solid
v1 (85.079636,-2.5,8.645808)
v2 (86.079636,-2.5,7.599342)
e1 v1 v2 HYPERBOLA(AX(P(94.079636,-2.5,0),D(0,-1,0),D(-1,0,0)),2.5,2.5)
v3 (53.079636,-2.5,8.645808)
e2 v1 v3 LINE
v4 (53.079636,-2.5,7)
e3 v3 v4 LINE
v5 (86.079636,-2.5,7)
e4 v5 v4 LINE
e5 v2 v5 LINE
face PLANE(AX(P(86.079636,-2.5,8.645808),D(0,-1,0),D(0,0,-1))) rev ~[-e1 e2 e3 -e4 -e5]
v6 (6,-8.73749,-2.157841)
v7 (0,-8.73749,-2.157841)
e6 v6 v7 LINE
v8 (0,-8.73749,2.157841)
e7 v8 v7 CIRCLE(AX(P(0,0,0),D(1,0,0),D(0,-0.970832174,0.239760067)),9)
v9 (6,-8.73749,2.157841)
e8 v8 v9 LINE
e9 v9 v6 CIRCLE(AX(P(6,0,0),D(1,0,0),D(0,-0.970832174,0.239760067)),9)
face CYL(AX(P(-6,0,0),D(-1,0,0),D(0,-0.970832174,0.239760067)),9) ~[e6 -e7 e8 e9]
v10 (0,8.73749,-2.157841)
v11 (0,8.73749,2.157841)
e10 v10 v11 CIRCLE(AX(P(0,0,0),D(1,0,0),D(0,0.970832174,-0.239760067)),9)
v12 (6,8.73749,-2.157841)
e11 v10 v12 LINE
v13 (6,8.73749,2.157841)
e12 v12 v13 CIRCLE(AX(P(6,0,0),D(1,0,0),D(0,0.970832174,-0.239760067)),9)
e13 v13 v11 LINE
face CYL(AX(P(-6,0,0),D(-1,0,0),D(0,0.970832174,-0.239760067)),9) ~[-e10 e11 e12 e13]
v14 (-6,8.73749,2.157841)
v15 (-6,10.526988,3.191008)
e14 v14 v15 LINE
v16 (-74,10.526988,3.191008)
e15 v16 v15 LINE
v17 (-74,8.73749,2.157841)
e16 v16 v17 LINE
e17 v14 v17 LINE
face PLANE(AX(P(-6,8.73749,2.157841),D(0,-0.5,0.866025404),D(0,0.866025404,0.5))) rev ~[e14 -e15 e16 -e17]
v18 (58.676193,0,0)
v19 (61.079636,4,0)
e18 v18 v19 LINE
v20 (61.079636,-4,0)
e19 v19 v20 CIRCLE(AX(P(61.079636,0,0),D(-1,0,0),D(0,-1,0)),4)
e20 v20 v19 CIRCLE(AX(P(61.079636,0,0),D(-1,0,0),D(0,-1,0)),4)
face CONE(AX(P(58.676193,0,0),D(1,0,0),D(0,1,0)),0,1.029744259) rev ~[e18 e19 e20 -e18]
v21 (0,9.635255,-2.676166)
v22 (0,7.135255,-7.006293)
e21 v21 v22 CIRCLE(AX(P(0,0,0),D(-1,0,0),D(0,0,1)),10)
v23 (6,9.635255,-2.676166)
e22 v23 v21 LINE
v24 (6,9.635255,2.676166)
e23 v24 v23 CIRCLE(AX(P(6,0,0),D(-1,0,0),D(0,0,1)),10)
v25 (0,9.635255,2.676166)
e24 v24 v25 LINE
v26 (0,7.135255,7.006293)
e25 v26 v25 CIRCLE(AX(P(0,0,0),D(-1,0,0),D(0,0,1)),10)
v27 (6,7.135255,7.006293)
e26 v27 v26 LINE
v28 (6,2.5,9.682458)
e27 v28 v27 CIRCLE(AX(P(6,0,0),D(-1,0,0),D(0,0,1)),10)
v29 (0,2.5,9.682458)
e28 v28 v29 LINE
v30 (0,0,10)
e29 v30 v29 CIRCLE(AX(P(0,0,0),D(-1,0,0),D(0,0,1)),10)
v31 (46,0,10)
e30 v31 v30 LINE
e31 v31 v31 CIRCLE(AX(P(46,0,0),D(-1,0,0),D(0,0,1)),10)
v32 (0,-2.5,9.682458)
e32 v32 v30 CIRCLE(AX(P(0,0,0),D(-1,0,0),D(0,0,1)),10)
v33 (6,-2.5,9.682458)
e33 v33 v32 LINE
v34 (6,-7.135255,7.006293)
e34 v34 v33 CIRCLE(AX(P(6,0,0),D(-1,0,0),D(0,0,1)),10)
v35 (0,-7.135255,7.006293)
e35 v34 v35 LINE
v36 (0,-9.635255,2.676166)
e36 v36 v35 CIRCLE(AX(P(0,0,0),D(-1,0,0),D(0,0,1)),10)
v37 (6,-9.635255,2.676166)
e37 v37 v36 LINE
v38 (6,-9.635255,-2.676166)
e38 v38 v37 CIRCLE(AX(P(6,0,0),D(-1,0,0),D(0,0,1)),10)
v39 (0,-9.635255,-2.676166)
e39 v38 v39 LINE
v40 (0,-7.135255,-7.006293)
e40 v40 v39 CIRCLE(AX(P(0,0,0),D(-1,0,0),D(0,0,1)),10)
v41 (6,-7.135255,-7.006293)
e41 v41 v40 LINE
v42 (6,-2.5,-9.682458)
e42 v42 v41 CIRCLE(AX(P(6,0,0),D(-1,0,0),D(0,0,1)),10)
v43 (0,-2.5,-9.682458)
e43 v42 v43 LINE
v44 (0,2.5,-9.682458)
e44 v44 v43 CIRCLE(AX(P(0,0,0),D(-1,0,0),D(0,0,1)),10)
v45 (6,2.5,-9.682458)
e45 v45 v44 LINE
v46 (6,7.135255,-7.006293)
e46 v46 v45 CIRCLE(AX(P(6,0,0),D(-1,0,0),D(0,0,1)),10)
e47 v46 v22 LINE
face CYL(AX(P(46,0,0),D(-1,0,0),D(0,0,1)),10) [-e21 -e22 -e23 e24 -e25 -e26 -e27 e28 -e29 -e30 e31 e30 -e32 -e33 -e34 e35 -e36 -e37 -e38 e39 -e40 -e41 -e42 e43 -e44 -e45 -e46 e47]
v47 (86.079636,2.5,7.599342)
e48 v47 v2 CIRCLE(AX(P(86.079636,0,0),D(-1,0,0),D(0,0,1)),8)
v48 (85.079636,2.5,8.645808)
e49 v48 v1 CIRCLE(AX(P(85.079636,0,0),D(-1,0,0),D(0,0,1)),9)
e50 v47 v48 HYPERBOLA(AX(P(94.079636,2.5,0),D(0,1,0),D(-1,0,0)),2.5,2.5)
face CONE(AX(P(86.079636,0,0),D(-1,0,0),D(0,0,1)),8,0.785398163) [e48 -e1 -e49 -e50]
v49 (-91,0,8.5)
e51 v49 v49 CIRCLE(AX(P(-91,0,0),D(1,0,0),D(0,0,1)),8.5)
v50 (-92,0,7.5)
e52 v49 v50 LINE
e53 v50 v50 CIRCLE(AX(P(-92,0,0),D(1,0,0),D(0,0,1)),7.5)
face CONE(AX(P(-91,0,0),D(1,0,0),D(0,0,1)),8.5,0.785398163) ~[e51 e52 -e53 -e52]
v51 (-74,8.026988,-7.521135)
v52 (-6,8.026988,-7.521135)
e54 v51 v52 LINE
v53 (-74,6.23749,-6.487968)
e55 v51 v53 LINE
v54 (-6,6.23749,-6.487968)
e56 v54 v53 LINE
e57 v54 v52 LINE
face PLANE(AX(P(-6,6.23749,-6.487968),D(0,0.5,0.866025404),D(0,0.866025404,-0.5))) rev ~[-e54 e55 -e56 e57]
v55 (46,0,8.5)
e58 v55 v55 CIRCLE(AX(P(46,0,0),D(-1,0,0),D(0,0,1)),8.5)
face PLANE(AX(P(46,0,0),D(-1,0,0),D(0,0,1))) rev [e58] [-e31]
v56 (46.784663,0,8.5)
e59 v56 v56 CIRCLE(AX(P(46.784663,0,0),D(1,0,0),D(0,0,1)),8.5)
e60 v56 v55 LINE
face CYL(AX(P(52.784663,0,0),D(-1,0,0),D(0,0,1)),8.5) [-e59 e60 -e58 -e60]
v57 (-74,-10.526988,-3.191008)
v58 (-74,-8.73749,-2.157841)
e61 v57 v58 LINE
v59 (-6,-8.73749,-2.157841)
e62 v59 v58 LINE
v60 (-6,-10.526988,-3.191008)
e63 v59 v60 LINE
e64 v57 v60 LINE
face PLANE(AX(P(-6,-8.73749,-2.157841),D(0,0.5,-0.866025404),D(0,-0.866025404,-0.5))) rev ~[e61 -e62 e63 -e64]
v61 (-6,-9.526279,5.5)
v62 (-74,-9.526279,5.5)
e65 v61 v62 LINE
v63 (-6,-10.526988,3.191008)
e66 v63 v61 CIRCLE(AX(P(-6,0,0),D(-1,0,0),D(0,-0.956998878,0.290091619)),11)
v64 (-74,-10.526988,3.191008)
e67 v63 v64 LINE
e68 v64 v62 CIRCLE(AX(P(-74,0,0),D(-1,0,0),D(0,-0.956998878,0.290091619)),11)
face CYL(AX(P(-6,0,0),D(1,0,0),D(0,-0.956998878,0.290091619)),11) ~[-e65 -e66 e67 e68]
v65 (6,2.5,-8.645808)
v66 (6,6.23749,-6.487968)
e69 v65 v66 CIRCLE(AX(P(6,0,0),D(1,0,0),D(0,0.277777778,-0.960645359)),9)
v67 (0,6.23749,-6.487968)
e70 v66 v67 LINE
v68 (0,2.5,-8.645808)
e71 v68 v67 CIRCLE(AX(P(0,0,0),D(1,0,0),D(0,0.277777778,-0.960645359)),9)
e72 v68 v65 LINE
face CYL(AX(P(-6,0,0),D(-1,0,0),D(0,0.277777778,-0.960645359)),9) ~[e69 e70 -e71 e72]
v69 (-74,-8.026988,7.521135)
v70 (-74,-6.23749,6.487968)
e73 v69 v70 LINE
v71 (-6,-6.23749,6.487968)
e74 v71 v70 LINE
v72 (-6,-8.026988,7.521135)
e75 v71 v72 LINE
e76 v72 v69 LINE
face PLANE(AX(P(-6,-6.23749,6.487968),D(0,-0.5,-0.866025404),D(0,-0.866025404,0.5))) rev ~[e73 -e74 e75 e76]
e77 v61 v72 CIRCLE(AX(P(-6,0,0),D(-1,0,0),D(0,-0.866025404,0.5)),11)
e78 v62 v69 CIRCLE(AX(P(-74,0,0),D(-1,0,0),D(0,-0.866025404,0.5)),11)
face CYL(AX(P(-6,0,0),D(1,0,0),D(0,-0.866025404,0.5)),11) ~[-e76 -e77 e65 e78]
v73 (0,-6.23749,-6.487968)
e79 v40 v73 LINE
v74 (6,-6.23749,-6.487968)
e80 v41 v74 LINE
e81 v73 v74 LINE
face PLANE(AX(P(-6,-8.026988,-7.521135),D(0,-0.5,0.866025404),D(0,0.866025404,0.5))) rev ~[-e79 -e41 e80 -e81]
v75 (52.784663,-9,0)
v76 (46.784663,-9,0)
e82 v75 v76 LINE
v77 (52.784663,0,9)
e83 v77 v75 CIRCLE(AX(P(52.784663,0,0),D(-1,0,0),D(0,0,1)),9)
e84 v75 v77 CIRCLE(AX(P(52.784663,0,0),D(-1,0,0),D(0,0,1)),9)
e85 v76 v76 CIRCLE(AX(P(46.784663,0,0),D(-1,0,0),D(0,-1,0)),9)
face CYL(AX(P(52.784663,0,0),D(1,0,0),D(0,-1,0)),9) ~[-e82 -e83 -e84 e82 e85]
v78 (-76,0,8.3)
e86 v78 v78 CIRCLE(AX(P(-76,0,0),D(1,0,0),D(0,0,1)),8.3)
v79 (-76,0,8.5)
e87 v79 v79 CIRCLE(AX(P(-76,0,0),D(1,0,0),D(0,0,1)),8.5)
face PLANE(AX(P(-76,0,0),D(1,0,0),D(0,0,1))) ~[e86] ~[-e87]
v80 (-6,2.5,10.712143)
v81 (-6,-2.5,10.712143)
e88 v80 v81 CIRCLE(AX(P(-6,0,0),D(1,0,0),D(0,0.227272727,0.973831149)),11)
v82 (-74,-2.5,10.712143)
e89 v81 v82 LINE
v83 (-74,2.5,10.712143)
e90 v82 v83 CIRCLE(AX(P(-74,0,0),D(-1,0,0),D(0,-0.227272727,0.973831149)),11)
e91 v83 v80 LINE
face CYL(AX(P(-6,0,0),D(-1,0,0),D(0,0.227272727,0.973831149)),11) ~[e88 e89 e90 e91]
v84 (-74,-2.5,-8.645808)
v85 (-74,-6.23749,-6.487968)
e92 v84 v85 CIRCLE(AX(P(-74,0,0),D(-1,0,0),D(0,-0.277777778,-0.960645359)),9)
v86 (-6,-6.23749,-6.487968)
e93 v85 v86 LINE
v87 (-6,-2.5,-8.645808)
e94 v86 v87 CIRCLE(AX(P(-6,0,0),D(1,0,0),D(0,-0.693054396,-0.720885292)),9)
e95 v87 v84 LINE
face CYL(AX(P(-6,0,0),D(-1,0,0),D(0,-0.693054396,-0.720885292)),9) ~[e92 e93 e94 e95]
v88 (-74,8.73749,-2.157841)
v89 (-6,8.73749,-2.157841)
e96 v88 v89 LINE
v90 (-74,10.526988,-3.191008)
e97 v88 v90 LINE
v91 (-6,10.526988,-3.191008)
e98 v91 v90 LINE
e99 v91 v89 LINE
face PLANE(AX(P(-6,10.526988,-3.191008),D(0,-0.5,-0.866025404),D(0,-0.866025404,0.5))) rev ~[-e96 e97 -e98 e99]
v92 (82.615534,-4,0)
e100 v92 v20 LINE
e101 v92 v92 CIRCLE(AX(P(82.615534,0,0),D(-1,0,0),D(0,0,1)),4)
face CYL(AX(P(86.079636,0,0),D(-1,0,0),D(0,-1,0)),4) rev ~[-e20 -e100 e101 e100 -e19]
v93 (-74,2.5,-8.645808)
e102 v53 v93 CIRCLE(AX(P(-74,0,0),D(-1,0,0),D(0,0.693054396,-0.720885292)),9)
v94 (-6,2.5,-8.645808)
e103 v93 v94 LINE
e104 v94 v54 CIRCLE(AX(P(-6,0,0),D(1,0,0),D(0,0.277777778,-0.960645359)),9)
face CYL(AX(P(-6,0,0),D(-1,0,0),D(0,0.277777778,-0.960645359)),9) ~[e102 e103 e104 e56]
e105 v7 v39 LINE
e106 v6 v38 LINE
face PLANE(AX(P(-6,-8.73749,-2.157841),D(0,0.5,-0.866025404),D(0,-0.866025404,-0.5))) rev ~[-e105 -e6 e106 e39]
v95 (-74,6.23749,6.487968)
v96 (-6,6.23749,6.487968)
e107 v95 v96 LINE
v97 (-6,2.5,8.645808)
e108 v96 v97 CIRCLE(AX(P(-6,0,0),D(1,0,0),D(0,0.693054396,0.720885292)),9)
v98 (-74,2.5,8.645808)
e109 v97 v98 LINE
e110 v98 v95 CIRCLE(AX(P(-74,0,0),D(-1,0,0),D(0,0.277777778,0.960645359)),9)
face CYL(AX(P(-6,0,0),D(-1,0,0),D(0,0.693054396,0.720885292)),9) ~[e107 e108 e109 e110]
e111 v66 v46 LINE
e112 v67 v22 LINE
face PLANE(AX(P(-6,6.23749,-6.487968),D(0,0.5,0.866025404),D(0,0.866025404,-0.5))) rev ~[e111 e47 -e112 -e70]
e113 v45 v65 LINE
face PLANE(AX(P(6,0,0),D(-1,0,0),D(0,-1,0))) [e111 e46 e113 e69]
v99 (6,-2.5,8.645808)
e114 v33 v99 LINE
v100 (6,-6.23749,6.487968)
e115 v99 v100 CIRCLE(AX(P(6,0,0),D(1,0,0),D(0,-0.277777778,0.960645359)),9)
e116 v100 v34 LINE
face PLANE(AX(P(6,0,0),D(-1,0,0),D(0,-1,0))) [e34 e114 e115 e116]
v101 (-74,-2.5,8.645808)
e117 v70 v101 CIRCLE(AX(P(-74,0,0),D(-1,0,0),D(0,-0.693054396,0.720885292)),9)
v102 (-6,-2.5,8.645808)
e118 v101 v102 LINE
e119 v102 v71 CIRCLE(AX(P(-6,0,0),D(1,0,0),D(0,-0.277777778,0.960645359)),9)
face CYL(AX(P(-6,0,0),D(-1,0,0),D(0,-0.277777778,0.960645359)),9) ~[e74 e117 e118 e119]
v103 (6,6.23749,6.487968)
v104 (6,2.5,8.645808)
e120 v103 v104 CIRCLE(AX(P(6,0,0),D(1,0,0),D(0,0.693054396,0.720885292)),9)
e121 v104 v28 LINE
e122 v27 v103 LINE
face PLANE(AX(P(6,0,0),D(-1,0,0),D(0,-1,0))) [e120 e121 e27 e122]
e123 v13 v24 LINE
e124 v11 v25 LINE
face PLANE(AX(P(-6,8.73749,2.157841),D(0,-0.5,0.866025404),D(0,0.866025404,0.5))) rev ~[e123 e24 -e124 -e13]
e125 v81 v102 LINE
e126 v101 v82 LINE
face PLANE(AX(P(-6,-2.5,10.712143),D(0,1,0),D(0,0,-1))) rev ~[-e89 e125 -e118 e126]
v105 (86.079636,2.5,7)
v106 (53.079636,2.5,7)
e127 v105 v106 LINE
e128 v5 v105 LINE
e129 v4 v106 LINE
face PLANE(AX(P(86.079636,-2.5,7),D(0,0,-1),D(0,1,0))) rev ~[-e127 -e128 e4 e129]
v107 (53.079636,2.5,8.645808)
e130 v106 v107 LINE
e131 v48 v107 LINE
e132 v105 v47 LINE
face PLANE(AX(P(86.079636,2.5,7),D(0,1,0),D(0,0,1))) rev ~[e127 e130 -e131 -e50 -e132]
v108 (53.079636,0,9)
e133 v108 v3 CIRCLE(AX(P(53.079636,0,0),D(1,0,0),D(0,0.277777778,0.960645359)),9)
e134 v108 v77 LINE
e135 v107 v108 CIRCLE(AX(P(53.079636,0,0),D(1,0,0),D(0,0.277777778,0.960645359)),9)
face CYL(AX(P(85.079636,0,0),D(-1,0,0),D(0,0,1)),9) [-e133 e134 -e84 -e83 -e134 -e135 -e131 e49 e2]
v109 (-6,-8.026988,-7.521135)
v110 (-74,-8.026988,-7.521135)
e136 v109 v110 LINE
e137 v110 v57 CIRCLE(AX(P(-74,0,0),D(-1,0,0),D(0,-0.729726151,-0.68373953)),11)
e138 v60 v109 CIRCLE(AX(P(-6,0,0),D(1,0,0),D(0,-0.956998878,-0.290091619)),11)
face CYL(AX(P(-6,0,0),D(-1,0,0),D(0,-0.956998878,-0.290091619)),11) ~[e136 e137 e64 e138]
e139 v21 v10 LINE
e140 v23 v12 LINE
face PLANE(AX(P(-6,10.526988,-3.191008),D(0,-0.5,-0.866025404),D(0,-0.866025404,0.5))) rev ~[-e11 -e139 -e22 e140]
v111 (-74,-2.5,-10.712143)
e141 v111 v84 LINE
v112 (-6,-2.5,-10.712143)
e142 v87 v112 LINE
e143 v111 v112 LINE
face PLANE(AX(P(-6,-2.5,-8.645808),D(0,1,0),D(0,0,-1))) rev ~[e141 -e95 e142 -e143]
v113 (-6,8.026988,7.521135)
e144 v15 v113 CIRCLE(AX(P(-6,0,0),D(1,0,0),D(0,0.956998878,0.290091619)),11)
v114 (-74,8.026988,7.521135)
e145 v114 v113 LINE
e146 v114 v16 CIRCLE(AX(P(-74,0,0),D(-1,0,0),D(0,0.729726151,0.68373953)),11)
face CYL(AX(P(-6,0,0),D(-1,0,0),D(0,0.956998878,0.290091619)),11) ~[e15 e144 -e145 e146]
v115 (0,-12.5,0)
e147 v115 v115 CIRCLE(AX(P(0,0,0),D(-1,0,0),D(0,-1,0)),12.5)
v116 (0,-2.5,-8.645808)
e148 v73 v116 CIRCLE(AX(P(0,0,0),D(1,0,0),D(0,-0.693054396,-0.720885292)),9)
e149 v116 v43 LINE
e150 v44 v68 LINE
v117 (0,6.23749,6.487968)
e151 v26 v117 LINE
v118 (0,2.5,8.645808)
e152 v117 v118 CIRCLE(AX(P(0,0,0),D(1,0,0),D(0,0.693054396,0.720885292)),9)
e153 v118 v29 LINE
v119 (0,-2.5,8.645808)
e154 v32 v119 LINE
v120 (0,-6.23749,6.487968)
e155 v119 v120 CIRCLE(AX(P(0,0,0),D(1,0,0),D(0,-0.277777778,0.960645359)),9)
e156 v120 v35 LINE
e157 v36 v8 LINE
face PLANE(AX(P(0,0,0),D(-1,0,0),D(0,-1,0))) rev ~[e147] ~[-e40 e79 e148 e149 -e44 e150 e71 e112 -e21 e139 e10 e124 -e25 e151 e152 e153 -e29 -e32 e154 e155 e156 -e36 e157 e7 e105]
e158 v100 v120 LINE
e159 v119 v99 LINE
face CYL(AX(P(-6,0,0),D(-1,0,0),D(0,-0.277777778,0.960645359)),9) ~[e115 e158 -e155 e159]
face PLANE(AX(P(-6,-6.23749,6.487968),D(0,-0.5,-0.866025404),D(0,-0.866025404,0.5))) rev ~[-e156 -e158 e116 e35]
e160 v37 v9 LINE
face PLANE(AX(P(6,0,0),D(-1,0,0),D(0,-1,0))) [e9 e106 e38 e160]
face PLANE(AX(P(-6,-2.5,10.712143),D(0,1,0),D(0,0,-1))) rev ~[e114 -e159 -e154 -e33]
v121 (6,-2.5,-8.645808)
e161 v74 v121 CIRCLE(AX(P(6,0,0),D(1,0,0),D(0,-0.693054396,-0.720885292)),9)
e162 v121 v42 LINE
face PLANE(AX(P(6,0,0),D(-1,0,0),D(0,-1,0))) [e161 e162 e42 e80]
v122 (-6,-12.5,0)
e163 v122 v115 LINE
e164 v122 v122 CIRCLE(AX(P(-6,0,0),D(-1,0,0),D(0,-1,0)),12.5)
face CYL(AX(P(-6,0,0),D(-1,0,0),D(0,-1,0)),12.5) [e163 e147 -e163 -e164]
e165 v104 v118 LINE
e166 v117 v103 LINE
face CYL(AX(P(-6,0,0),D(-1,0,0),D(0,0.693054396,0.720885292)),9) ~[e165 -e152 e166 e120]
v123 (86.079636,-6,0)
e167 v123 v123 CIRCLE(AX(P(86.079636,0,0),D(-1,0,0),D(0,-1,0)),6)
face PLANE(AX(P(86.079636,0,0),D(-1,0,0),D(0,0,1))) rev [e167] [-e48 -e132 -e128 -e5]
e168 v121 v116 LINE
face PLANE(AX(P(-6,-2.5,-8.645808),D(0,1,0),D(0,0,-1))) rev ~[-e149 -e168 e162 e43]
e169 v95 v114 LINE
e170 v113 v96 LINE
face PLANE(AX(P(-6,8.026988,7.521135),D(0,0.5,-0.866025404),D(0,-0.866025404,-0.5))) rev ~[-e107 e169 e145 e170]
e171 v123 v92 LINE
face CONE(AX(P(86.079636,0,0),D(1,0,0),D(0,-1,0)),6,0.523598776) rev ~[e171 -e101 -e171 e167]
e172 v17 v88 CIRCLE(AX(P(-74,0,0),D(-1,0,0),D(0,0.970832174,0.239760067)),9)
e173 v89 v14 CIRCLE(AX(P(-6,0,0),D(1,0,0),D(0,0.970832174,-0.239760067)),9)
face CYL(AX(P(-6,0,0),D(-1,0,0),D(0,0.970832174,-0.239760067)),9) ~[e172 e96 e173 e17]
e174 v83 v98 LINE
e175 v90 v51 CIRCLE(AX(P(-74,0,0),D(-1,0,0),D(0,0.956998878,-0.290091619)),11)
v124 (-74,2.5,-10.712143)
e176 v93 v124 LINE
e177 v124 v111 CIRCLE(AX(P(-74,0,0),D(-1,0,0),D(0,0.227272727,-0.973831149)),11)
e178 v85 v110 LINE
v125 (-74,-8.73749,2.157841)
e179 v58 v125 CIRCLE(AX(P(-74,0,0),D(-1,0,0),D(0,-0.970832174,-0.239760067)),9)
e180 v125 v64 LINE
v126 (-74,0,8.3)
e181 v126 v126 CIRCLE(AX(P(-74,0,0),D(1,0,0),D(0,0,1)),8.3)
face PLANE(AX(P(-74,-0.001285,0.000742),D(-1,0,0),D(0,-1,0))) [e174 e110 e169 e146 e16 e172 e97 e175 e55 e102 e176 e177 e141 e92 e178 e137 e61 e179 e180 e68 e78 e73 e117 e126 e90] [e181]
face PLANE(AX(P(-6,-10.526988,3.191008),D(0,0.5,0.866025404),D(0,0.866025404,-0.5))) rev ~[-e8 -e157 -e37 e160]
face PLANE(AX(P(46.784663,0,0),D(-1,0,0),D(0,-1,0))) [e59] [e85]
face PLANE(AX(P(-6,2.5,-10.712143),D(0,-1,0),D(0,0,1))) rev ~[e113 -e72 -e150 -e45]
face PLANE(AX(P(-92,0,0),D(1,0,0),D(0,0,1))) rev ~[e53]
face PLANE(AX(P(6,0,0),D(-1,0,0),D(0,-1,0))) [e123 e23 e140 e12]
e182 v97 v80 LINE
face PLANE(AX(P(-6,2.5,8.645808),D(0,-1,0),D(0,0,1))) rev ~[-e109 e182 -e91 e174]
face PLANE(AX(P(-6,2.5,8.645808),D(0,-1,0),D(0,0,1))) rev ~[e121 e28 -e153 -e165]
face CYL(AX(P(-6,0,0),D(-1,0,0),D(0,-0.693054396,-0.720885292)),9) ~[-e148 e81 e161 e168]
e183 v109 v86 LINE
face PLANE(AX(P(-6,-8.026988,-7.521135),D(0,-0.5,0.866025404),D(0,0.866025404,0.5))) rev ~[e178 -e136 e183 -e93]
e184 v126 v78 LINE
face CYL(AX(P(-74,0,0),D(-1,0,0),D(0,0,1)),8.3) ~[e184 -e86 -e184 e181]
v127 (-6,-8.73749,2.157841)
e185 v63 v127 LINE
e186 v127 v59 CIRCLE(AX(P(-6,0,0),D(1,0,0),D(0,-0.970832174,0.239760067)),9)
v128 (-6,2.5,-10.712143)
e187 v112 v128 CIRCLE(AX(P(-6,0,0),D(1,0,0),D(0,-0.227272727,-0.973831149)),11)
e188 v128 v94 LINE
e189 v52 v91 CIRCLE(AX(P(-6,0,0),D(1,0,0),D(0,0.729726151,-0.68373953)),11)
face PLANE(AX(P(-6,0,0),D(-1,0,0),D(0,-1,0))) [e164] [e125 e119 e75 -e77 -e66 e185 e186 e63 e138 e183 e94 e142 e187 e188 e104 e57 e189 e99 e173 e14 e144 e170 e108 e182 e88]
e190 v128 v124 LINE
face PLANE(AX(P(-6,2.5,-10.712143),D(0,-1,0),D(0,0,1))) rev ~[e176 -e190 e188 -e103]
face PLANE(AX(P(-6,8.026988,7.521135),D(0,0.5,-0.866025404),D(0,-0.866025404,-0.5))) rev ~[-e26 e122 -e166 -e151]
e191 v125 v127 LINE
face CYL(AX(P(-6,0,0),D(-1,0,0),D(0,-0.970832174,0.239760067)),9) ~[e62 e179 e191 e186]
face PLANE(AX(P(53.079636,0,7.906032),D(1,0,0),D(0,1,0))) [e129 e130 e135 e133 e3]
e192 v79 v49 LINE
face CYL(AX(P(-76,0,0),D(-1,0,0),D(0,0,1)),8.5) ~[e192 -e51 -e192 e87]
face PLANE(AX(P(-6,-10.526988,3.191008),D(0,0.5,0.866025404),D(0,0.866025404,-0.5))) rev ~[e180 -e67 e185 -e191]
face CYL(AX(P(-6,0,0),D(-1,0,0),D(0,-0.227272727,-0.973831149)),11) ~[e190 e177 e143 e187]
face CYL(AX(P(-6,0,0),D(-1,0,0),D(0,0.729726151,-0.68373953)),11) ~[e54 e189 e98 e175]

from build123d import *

# Parameters (mm, degrees)
F2_R            = 12.5
F3_DEPTH        = 6
F5_DEPTH        = 68
F6_R            = 12.5
F7_DEPTH        = 12
F8_DEPTH        = 6
F12_D           = 8
F12_DEPTH       = 25
F12_CSINK_D     = 12
F12_CSINK_ANGLE = 60
F12_TIP         = 2.4034424761
F14_DEPTH       = 33
F15_R           = 9
F15_R_2         = 8.5
F16_DEPTH       = 6


with BuildPart() as f1:
    # F0 (on Front) → F1 (revolve)
    with BuildSketch(Plane.XZ):
        Polygon((0, 10), (0, 0), (86.0796358759, 0), (86.0796358759, 8), (85.0796358759, 9), (52.7846625228, 9), (52.7846625228, 8.5), (46, 8.5), (46, 10), align=None)
    revolve(axis=Axis((43.0398179379, 0, 0), (-1, 0, 0)))

    # F2 (on face) → F3 (join)
    with BuildSketch(Plane(origin=(0, 0, 0), x_dir=(0, -1, 0), z_dir=(-1, 0, 0))):
        Circle(F2_R)
    extrude(amount=F3_DEPTH)

    # F4 (on face) → F5 (join)
    with BuildSketch(Plane(origin=(-6, 0, 0), x_dir=(0, -1, 0), z_dir=(-1, 0, 0))):
        with BuildLine():
            Line((8.0269876576, 7.5211348309), (6.2374895659, 6.4879676259))
            ThreePointArc((6.2374895659, 6.4879676259), (4.5, 7.7942286341), (2.5, 8.6458082329))
            Line((2.5, 8.6458082329), (2.5, 10.7121426428))
            ThreePointArc((2.5, 10.7121426428), (0, 11), (-2.5, 10.7121426428))
            Line((-2.5, 10.7121426428), (-2.5, 8.6458082329))
            ThreePointArc((-2.5, 8.6458082329), (-4.5, 7.7942286341), (-6.2374895659, 6.4879676259))
            Line((-6.2374895659, 6.4879676259), (-8.0269876576, 7.5211348309))
            ThreePointArc((-8.0269876576, 7.5211348309), (-9.5262794416, 5.5), (-10.5269876576, 3.1910078119))
            Line((-10.5269876576, 3.1910078119), (-8.7374895659, 2.157840607))
            ThreePointArc((-8.7374895659, 2.157840607), (-9, 0), (-8.7374895659, -2.157840607))
            Line((-8.7374895659, -2.157840607), (-10.5269876576, -3.1910078119))
            ThreePointArc((-10.5269876576, -3.1910078119), (-9.5262794416, -5.5), (-8.0269876576, -7.5211348309))
            Line((-8.0269876576, -7.5211348309), (-6.2374895659, -6.4879676259))
            ThreePointArc((-6.2374895659, -6.4879676259), (-4.5, -7.7942286341), (-2.5, -8.6458082329))
            Line((-2.5, -8.6458082329), (-2.5, -10.7121426428))
            ThreePointArc((-2.5, -10.7121426428), (0, -11), (2.5, -10.7121426428))
            Line((2.5, -10.7121426428), (2.5, -8.6458082329))
            ThreePointArc((2.5, -8.6458082329), (4.5, -7.7942286341), (6.2374895659, -6.4879676259))
            Line((6.2374895659, -6.4879676259), (8.0269876576, -7.5211348309))
            ThreePointArc((8.0269876576, -7.5211348309), (9.5262794416, -5.5), (10.5269876576, -3.1910078119))
            Line((10.5269876576, -3.1910078119), (8.7374895659, -2.157840607))
            ThreePointArc((8.7374895659, -2.157840607), (9, 0), (8.7374895659, 2.157840607))
            Line((8.7374895659, 2.157840607), (10.5269876576, 3.1910078119))
            ThreePointArc((10.5269876576, 3.1910078119), (10.0928807369, 4.3742151788), (9.5262794416, 5.5))
            ThreePointArc((9.5262794416, 5.5), (8.8346218349, 6.5535835262), (8.0269876576, 7.5211348309))
        make_face()
    extrude(amount=F5_DEPTH)

    # F6 (on face) → F7 (cut)
    with BuildSketch(Plane(origin=(-6, 0, 0), x_dir=(0, -1, 0), z_dir=(-1, 0, 0))):
        Circle(F6_R)
        with BuildLine():
            ThreePointArc((2.5, 8.6458082329), (4.5, 7.7942286341), (6.2374895659, 6.4879676259))
            Line((6.2374895659, 6.4879676259), (8.0269876576, 7.5211348309))
            ThreePointArc((8.0269876576, 7.5211348309), (9.5262794416, 5.5), (10.5269876576, 3.1910078119))
            Line((10.5269876576, 3.1910078119), (8.7374895659, 2.157840607))
            ThreePointArc((8.7374895659, 2.157840607), (9, 0), (8.7374895659, -2.157840607))
            Line((8.7374895659, -2.157840607), (10.5269876576, -3.1910078119))
            ThreePointArc((10.5269876576, -3.1910078119), (9.5262794416, -5.5), (8.0269876576, -7.5211348309))
            Line((8.0269876576, -7.5211348309), (6.2374895659, -6.4879676259))
            ThreePointArc((6.2374895659, -6.4879676259), (4.5, -7.7942286341), (2.5, -8.6458082329))
            Line((2.5, -8.6458082329), (2.5, -10.7121426428))
            ThreePointArc((2.5, -10.7121426428), (0, -11), (-2.5, -10.7121426428))
            Line((-2.5, -10.7121426428), (-2.5, -8.6458082329))
            ThreePointArc((-2.5, -8.6458082329), (-4.5, -7.7942286341), (-6.2374895659, -6.4879676259))
            Line((-6.2374895659, -6.4879676259), (-8.0269876576, -7.5211348309))
            ThreePointArc((-8.0269876576, -7.5211348309), (-9.5262794416, -5.5), (-10.5269876576, -3.1910078119))
            Line((-10.5269876576, -3.1910078119), (-8.7374895659, -2.157840607))
            ThreePointArc((-8.7374895659, -2.157840607), (-9, 0), (-8.7374895659, 2.157840607))
            Line((-8.7374895659, 2.157840607), (-10.5269876576, 3.1910078119))
            ThreePointArc((-10.5269876576, 3.1910078119), (-9.5262794416, 5.5), (-8.0269876576, 7.5211348309))
            Line((-8.0269876576, 7.5211348309), (-6.2374895659, 6.4879676259))
            ThreePointArc((-6.2374895659, 6.4879676259), (-4.5, 7.7942286341), (-2.5, 8.6458082329))
            Line((-2.5, 8.6458082329), (-2.5, 10.7121426428))
            ThreePointArc((-2.5, 10.7121426428), (0, 11), (2.5, 10.7121426428))
            Line((2.5, 10.7121426428), (2.5, 8.6458082329))
        make_face(mode=Mode.SUBTRACT)
    extrude(amount=-F7_DEPTH, mode=Mode.SUBTRACT)

    # F6 (on face) → F8 (join)
    with BuildSketch(Plane(origin=(-6, 0, 0), x_dir=(0, -1, 0), z_dir=(-1, 0, 0))):
        Circle(F6_R)
        with BuildLine():
            ThreePointArc((2.5, 8.6458082329), (4.5, 7.7942286341), (6.2374895659, 6.4879676259))
            Line((6.2374895659, 6.4879676259), (8.0269876576, 7.5211348309))
            ThreePointArc((8.0269876576, 7.5211348309), (9.5262794416, 5.5), (10.5269876576, 3.1910078119))
            Line((10.5269876576, 3.1910078119), (8.7374895659, 2.157840607))
            ThreePointArc((8.7374895659, 2.157840607), (9, 0), (8.7374895659, -2.157840607))
            Line((8.7374895659, -2.157840607), (10.5269876576, -3.1910078119))
            ThreePointArc((10.5269876576, -3.1910078119), (9.5262794416, -5.5), (8.0269876576, -7.5211348309))
            Line((8.0269876576, -7.5211348309), (6.2374895659, -6.4879676259))
            ThreePointArc((6.2374895659, -6.4879676259), (4.5, -7.7942286341), (2.5, -8.6458082329))
            Line((2.5, -8.6458082329), (2.5, -10.7121426428))
            ThreePointArc((2.5, -10.7121426428), (0, -11), (-2.5, -10.7121426428))
            Line((-2.5, -10.7121426428), (-2.5, -8.6458082329))
            ThreePointArc((-2.5, -8.6458082329), (-4.5, -7.7942286341), (-6.2374895659, -6.4879676259))
            Line((-6.2374895659, -6.4879676259), (-8.0269876576, -7.5211348309))
            ThreePointArc((-8.0269876576, -7.5211348309), (-9.5262794416, -5.5), (-10.5269876576, -3.1910078119))
            Line((-10.5269876576, -3.1910078119), (-8.7374895659, -2.157840607))
            ThreePointArc((-8.7374895659, -2.157840607), (-9, 0), (-8.7374895659, 2.157840607))
            Line((-8.7374895659, 2.157840607), (-10.5269876576, 3.1910078119))
            ThreePointArc((-10.5269876576, 3.1910078119), (-9.5262794416, 5.5), (-8.0269876576, 7.5211348309))
            Line((-8.0269876576, 7.5211348309), (-6.2374895659, 6.4879676259))
            ThreePointArc((-6.2374895659, 6.4879676259), (-4.5, 7.7942286341), (-2.5, 8.6458082329))
            Line((-2.5, 8.6458082329), (-2.5, 10.7121426428))
            ThreePointArc((-2.5, 10.7121426428), (0, 11), (2.5, 10.7121426428))
            Line((2.5, 10.7121426428), (2.5, 8.6458082329))
        make_face(mode=Mode.SUBTRACT)
    extrude(amount=-F8_DEPTH)

    # F9 (on Front) → F10 (revolve)
    with BuildSketch(Plane.XZ):
        Polygon((-92, 0), (-74, 0), (-74, 2.157840607), (-74, 3.1910078119), (-74, 7.5211348309), (-74, 8.3), (-76, 8.3), (-76, 8.5), (-91, 8.5), (-92, 7.5), align=None)
    revolve(axis=Axis((-83, 0, 0), (1, 0, 0)))

    # F12
    with Locations(Plane.YZ.offset(86.0796358759)):
        with Locations((0, 0)):
            CounterSinkHole(F12_D / 2, F12_CSINK_D / 2, depth=F12_DEPTH, counter_sink_angle=F12_CSINK_ANGLE)
            with Locations((0, 0, -(F12_DEPTH + F12_TIP / 2))):  # 118° drill point
                Cone(0, F12_D / 2, F12_TIP, mode=Mode.SUBTRACT)

    # F13 (on face) → F14 (cut)
    with BuildSketch(Plane.YZ.offset(86.0796358759)):
        with BuildLine():
            Line((-2.5, 7), (0, 7))
            Line((0, 7), (2.5, 7))
            Line((2.5, 7), (2.5, 8.6458082329))
            ThreePointArc((2.5, 8.6458082329), (0, 9), (-2.5, 8.6458082329))
            Line((-2.5, 8.6458082329), (-2.5, 7))
        make_face()
    extrude(amount=-F14_DEPTH, mode=Mode.SUBTRACT)

    # F15 (on face) → F16 (join)
    with BuildSketch(Plane(origin=(52.7846625228, 0, 0), x_dir=(0, -1, 0), z_dir=(-1, 0, 0))):
        Circle(F15_R)
        Circle(F15_R_2, mode=Mode.SUBTRACT)
    extrude(amount=F16_DEPTH)


solid = f1.part
